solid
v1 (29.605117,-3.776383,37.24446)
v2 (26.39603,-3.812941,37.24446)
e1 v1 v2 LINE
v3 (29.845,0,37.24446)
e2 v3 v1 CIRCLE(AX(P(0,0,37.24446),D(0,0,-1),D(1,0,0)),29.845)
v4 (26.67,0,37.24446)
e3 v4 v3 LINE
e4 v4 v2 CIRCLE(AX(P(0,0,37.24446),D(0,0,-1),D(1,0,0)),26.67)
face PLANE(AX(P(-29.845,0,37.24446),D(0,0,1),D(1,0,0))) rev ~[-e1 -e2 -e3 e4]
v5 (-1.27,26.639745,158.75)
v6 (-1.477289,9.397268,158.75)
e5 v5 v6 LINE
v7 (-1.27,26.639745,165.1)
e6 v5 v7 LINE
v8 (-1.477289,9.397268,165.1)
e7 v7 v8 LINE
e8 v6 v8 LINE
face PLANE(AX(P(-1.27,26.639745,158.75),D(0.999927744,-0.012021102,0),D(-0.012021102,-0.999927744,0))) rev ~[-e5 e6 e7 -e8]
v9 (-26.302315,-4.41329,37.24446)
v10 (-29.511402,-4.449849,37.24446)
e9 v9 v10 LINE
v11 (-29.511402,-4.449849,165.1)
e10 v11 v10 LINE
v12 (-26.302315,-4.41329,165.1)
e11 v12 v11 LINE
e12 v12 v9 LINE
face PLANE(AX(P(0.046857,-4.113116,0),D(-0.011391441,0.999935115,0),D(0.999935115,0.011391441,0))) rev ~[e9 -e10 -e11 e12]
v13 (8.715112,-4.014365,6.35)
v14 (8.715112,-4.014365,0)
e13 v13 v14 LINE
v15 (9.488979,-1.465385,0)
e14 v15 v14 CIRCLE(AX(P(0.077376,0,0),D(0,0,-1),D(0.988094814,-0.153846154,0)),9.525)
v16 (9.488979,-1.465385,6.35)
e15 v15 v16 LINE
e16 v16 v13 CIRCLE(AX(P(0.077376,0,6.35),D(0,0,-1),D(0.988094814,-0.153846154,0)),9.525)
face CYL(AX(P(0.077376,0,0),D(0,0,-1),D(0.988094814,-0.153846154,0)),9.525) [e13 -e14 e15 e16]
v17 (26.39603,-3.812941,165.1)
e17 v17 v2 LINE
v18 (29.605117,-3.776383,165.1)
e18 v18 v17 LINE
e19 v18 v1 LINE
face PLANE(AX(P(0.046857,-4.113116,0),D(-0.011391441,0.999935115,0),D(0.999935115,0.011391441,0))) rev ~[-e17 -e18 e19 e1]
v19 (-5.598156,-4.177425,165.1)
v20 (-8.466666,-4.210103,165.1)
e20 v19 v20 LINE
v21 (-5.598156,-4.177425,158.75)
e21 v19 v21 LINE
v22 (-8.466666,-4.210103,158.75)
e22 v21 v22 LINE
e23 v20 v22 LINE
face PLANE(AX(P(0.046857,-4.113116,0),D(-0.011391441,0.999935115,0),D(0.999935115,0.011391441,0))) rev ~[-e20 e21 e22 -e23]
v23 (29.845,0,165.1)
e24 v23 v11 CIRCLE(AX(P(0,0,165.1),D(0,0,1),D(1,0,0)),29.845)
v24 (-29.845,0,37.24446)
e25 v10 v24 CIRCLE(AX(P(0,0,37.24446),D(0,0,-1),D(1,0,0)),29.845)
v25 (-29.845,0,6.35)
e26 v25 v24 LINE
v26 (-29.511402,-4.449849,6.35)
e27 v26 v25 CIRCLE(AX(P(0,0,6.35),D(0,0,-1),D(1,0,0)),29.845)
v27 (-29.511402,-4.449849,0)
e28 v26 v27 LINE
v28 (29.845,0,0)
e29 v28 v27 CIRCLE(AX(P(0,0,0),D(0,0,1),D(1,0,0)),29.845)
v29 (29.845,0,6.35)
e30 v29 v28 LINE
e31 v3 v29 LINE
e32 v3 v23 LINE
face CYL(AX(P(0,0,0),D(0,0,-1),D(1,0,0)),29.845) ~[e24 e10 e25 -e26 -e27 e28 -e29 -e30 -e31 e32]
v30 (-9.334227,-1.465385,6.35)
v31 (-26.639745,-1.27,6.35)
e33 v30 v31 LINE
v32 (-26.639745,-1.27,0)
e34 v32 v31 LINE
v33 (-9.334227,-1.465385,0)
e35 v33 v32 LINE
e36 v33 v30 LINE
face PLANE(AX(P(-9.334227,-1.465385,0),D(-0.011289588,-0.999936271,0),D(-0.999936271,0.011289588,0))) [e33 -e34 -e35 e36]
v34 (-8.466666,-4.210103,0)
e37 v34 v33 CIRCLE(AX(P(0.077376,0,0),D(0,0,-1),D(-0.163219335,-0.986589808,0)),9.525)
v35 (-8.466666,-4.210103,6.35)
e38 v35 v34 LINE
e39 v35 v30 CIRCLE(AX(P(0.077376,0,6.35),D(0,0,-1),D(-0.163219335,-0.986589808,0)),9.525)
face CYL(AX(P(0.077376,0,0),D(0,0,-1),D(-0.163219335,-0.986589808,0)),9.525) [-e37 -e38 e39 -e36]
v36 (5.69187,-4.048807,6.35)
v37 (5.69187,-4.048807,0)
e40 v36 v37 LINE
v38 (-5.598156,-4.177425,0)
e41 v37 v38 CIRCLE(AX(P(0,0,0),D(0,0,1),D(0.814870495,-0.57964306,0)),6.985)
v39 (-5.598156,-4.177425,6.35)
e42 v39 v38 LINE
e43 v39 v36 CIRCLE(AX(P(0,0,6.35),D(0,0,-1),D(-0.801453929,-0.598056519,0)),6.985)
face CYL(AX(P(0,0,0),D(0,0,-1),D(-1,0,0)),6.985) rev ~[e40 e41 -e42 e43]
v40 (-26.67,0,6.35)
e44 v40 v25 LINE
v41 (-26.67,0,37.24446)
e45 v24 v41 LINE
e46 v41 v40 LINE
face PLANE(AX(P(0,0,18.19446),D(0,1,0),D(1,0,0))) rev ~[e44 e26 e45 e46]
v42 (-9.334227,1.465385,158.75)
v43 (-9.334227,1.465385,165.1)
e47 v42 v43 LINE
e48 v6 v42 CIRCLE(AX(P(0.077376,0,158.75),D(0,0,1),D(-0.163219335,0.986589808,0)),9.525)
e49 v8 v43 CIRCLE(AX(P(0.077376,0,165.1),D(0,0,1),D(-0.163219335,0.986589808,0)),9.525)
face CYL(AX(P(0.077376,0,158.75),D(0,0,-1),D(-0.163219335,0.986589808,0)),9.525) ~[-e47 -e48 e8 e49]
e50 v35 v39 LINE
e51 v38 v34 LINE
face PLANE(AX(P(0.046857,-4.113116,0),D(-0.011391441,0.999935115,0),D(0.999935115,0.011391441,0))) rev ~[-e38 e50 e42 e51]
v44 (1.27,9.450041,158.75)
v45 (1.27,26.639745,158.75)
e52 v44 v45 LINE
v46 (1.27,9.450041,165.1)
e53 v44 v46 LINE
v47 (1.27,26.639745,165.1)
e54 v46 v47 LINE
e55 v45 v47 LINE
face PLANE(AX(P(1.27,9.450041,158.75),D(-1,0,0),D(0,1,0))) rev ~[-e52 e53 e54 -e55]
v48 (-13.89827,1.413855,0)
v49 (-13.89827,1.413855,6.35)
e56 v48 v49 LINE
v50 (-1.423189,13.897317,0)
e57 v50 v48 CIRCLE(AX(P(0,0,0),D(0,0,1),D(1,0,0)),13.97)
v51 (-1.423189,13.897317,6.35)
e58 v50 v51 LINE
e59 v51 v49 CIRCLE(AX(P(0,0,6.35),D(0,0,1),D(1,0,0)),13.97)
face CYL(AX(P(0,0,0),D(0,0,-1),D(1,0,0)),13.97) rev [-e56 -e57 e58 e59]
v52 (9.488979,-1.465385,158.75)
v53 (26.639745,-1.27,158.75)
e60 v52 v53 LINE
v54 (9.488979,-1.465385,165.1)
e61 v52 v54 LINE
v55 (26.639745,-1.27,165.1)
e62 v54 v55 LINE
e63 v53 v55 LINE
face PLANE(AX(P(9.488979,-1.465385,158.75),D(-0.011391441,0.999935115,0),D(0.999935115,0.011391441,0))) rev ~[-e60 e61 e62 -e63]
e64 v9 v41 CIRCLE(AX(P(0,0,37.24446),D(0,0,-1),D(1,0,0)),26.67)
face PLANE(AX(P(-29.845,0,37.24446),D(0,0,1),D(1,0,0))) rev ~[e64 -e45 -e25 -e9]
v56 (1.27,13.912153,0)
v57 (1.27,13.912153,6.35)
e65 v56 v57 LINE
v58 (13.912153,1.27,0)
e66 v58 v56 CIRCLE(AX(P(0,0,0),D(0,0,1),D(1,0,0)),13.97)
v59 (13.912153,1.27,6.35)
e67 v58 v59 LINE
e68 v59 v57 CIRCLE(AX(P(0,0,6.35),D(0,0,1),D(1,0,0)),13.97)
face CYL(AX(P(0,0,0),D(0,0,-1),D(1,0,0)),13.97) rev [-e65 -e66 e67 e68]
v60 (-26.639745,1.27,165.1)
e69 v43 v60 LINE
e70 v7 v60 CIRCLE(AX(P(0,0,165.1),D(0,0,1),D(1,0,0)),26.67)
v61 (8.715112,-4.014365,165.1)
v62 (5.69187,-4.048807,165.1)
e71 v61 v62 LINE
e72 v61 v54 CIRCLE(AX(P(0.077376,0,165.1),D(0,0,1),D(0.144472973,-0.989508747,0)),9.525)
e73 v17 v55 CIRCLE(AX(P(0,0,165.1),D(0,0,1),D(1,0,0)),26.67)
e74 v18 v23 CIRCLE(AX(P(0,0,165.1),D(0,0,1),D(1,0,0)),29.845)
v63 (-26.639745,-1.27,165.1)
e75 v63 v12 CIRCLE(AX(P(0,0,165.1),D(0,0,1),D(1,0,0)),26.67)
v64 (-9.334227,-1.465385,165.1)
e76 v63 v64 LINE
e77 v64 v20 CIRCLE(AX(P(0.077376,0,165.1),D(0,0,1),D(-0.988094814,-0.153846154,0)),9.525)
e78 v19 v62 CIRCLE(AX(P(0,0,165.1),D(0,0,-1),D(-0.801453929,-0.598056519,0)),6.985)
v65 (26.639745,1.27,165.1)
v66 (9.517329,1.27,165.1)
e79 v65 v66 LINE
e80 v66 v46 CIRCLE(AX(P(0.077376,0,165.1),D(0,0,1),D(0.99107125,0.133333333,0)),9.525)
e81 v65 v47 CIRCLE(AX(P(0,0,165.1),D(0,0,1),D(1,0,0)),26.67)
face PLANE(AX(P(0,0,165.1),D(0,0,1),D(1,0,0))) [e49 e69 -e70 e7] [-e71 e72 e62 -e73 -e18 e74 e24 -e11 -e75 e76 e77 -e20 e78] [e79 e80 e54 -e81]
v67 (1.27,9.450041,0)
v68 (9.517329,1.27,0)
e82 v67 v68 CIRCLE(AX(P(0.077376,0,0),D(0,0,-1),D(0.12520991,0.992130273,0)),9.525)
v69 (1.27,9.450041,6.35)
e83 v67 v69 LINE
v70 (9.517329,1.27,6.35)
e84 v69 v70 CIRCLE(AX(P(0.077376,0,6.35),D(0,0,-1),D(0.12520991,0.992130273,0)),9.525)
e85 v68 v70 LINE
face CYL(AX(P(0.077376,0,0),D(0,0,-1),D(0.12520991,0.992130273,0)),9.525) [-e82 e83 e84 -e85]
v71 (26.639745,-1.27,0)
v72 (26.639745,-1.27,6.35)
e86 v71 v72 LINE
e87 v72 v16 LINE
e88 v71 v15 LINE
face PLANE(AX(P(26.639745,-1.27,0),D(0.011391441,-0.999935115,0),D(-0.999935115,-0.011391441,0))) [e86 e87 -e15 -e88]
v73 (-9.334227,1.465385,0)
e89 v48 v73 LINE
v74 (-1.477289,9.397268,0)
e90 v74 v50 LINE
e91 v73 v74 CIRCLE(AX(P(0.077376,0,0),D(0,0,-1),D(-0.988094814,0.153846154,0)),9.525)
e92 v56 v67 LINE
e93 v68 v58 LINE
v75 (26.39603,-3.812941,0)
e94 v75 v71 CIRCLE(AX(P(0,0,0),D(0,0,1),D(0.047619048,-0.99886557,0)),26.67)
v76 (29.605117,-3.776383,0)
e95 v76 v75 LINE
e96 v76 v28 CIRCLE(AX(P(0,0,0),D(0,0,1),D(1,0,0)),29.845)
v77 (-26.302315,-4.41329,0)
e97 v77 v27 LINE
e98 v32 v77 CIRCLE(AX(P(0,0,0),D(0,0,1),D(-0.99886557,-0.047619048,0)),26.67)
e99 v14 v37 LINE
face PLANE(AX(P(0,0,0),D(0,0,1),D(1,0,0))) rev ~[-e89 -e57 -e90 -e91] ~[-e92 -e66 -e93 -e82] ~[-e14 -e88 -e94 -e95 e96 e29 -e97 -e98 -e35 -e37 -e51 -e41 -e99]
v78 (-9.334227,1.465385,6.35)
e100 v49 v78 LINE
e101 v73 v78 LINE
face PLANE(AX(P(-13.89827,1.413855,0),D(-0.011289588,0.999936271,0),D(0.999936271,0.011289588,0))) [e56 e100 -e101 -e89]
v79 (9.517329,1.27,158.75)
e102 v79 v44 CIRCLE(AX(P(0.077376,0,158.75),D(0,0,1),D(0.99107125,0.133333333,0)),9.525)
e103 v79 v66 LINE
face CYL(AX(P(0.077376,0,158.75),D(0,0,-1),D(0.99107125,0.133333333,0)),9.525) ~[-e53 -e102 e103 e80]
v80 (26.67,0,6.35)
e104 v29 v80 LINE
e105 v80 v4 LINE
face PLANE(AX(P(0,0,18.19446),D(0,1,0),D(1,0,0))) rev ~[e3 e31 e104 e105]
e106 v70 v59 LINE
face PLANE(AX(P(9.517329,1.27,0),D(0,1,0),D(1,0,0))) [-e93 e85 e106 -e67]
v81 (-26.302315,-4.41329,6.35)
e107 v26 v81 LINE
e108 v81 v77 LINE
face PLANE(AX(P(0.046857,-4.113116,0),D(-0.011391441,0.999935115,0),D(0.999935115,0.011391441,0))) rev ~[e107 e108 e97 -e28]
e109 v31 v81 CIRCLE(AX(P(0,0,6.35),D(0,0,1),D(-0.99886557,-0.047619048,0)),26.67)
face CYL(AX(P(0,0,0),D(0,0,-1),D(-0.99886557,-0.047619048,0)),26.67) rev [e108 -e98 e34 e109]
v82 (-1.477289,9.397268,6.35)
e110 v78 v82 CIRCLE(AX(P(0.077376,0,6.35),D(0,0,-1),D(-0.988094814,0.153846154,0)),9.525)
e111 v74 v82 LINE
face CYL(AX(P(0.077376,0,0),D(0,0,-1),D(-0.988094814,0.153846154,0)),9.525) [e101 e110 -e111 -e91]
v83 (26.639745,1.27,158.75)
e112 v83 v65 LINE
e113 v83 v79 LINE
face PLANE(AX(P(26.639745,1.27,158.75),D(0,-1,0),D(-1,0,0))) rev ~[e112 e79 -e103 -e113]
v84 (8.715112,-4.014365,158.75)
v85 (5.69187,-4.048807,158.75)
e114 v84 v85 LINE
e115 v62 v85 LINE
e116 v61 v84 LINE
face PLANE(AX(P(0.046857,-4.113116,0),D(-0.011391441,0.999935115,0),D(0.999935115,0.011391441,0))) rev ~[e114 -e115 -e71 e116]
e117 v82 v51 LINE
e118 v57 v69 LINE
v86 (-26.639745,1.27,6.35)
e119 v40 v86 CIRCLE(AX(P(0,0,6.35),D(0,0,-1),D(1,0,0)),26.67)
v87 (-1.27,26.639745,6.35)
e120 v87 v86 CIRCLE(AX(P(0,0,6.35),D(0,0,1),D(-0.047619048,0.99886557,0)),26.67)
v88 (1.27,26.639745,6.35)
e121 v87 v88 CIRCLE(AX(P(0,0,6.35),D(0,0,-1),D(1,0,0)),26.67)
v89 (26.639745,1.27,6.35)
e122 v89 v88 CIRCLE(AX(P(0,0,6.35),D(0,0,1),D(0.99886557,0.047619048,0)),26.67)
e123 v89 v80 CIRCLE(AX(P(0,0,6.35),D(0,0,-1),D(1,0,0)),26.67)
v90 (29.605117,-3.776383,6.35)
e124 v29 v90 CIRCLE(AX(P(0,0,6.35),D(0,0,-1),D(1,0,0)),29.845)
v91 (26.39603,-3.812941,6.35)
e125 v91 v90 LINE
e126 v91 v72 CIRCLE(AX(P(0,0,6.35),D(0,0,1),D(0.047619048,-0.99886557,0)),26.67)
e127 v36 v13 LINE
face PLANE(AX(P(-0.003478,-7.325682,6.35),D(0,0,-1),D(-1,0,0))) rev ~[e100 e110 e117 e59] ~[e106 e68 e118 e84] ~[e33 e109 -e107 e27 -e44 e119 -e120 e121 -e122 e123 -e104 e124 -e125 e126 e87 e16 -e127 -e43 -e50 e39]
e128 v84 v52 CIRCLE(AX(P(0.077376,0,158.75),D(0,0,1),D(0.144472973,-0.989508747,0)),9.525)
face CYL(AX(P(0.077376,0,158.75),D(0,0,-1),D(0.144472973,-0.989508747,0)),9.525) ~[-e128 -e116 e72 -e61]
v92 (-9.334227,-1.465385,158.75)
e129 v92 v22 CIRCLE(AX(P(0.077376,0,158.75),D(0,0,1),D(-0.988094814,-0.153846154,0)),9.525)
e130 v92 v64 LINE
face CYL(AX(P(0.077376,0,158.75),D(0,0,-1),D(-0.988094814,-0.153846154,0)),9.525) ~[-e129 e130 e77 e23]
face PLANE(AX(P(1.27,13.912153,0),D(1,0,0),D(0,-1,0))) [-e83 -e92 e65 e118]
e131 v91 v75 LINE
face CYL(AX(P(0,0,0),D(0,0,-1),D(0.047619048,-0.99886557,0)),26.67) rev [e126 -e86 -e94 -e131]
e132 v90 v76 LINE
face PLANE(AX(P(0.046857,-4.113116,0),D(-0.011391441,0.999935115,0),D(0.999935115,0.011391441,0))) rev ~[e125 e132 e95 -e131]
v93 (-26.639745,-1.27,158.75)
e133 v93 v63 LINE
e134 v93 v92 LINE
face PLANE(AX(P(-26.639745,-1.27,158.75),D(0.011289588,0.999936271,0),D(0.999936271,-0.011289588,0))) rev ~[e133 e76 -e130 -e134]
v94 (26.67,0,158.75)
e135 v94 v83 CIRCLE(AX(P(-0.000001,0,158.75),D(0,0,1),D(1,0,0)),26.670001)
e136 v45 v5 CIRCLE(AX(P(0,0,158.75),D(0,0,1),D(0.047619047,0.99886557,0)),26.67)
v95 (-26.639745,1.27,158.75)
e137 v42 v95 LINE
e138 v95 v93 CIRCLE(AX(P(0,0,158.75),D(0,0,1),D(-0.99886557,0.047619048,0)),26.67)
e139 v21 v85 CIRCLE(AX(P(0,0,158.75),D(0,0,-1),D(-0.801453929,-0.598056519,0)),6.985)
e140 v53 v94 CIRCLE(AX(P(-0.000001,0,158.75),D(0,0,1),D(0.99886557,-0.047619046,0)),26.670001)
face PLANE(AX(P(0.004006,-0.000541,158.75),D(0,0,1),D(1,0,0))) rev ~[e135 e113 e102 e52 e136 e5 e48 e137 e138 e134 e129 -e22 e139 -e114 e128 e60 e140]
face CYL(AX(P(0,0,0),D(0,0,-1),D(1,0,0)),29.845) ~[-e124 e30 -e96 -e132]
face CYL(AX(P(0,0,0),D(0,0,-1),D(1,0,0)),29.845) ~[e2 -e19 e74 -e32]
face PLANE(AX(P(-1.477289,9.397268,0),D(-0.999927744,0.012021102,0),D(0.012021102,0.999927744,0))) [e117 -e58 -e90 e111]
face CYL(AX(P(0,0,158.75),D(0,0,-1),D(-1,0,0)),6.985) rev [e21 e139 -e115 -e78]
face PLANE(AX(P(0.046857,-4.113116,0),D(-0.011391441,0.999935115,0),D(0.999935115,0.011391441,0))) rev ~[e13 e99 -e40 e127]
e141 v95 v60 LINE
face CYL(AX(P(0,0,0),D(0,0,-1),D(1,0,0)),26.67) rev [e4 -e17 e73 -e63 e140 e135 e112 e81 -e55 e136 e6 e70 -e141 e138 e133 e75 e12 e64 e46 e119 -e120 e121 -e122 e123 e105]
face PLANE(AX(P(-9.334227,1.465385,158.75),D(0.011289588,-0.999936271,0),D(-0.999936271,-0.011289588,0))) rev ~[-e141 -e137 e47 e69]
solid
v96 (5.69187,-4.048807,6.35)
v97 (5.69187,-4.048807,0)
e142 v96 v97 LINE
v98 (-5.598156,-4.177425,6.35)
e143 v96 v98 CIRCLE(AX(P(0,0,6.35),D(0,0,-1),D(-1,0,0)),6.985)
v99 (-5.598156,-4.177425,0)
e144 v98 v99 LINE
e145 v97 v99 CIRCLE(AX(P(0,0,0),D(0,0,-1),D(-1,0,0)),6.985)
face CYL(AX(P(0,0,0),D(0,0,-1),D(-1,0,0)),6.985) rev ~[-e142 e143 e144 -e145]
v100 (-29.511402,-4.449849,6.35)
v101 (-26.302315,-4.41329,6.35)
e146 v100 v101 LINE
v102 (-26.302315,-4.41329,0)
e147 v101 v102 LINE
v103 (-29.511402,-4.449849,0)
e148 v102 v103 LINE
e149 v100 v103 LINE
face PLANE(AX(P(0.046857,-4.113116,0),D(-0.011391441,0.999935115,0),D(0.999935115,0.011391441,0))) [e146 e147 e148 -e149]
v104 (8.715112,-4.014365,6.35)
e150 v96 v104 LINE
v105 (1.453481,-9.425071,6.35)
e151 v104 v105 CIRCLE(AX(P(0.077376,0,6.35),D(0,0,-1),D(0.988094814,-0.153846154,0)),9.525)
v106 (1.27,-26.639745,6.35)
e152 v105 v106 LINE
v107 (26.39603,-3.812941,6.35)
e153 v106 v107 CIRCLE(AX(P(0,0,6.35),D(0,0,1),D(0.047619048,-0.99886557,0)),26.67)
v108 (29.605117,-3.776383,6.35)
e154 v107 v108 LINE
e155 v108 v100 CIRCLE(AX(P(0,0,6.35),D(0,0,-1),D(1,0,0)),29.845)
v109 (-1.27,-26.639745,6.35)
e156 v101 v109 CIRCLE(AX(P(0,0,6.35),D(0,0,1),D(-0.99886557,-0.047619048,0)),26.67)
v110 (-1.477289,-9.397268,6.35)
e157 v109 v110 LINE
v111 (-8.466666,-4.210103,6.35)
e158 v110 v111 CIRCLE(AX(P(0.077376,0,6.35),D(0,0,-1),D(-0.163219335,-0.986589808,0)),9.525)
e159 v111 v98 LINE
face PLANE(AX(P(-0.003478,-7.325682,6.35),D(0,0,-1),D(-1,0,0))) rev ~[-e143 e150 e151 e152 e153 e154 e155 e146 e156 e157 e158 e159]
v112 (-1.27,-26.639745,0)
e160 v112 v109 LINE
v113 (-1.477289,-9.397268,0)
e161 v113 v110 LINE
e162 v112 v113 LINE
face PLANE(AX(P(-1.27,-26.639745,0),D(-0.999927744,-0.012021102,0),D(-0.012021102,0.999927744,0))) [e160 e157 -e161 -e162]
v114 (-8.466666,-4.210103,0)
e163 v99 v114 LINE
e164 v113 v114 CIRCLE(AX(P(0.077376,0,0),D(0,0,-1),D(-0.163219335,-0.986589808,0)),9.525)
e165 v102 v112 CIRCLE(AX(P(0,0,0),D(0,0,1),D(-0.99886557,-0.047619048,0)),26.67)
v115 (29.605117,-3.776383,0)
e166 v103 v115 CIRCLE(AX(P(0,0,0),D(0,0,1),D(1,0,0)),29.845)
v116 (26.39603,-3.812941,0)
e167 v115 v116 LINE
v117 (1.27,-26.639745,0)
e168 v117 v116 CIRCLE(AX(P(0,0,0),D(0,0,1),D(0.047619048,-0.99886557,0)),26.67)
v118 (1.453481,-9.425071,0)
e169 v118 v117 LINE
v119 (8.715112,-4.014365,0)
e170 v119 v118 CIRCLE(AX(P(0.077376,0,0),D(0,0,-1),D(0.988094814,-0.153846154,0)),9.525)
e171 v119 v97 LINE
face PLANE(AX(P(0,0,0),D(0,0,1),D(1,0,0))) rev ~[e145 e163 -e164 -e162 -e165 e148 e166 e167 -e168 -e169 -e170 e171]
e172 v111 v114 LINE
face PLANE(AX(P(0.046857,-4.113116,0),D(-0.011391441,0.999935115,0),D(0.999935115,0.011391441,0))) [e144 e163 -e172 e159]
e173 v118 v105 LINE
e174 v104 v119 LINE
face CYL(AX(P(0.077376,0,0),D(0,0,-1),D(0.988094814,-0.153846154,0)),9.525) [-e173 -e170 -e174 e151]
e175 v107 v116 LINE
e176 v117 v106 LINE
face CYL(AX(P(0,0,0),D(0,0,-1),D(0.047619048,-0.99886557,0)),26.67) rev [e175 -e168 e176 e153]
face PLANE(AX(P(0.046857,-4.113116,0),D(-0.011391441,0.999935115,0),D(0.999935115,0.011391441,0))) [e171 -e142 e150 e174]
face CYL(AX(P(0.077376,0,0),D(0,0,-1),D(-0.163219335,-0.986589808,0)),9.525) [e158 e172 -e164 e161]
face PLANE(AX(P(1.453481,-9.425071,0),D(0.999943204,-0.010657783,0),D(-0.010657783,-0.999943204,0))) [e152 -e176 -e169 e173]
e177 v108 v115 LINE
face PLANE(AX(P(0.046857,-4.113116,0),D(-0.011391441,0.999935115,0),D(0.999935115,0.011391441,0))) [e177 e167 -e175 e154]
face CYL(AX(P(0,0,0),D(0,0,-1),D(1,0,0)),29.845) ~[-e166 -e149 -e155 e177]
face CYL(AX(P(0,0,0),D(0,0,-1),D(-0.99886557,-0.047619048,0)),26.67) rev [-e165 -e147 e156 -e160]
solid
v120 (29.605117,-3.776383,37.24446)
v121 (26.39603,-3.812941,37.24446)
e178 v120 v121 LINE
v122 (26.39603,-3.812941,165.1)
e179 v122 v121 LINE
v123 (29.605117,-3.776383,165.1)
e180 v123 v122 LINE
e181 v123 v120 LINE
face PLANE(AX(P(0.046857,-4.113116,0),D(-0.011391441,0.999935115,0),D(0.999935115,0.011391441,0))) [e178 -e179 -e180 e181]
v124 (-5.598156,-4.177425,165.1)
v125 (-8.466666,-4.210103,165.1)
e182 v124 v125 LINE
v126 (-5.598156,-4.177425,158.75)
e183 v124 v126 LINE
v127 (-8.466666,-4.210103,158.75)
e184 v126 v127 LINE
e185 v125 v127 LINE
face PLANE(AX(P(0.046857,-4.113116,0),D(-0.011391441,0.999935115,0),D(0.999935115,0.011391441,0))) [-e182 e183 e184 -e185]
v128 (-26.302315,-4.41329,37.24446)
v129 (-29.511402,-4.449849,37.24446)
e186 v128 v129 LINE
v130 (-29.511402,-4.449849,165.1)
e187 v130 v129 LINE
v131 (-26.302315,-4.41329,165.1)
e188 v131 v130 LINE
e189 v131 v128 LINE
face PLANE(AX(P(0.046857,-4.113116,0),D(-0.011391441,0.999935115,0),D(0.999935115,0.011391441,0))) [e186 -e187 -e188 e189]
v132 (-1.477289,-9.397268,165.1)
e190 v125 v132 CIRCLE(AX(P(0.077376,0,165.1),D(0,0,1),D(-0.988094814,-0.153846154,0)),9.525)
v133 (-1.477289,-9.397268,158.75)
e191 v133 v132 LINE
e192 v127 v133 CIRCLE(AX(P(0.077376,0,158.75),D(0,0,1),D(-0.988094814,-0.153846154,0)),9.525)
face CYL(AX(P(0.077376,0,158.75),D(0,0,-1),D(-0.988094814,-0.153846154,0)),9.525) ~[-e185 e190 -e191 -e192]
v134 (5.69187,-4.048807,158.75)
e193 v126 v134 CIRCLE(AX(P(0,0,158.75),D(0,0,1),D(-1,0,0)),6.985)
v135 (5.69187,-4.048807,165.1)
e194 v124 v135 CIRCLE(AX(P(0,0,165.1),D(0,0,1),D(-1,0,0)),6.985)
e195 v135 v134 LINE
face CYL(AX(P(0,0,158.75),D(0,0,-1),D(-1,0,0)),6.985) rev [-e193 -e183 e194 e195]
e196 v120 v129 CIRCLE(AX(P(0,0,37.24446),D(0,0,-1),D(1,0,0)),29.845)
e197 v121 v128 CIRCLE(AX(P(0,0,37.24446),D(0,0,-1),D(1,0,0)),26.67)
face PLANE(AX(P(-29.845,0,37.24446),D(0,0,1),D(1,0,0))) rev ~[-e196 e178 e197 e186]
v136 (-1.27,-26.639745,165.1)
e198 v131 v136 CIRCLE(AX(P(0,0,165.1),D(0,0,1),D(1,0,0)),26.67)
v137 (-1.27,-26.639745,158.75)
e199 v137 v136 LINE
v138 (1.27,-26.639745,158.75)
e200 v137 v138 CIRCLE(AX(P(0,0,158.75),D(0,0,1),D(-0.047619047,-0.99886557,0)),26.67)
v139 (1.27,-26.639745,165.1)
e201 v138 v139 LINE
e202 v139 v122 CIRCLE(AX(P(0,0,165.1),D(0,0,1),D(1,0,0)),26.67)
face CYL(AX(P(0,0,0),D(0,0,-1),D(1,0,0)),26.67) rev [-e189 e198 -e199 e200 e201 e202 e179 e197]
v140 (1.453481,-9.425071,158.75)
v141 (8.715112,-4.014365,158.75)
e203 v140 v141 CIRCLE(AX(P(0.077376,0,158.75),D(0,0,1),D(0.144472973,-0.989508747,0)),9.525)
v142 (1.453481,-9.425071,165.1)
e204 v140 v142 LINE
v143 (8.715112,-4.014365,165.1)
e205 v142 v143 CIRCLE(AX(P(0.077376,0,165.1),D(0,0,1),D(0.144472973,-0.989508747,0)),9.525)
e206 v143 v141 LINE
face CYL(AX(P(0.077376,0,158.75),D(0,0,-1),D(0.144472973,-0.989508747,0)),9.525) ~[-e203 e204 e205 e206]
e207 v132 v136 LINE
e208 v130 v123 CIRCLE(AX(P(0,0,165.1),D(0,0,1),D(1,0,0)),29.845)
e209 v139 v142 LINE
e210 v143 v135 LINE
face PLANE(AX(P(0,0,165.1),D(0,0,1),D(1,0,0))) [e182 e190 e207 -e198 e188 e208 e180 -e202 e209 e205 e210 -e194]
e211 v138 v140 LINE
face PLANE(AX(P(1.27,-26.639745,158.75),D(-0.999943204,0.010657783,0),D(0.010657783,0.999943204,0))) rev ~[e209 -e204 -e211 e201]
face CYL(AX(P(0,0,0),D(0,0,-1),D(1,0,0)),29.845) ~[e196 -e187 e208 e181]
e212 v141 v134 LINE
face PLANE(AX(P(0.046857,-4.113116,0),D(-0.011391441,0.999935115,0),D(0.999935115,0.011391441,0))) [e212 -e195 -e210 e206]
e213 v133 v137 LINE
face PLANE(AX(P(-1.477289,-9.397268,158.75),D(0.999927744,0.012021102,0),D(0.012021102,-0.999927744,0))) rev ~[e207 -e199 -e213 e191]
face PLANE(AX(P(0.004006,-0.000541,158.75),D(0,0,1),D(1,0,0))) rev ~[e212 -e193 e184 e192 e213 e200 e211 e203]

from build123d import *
from build123d.topology import SkipClean

# Parameters (mm, degrees)
SKETCH1_R           = 29.845
SKETCH1_R_2         = 26.67
BOSS_EXTRUDE1_DEPTH = 165.1
SKETCH2_W           = 59.69
SKETCH2_H           = 38.1
CUT_EXTRUDE1_DEPTH  = 171.409677102
BOSS_EXTRUDE2_DEPTH = 6.35
SKETCH5_R           = 6.985
BOSS_EXTRUDE4_DEPTH = 6.35
BOSS_EXTRUDE5_START = -6.35
SKETCH4_R           = 29.845
SKETCH4_R_2         = 26.67
SKETCH4_R_3         = 6.985
BOSS_EXTRUDE5_DEPTH = 6.35


with BuildPart() as part:
    # Sketch1 → Boss-Extrude1 (new body)
    with BuildSketch(Plane.XY):
        Circle(SKETCH1_R)
        Circle(SKETCH1_R_2, mode=Mode.SUBTRACT)
    extrude(amount=BOSS_EXTRUDE1_DEPTH)

    # Sketch2 → Cut-Extrude1 (cut, through all)
    with BuildSketch(Plane(origin=(0, 0, 0), x_dir=(1, 0, 0), z_dir=(0, 1, 0))):
        with Locations((0, -18.194460122)):
            Rectangle(SKETCH2_W, SKETCH2_H)
    extrude(amount=-CUT_EXTRUDE1_DEPTH, mode=Mode.SUBTRACT)

    # Sketch3 → Boss-Extrude2 (add)
    with BuildSketch(Plane(origin=(0, 0, 0), x_dir=(-1, 0, 0), z_dir=(0, 0, -1))):
        with BuildLine():
            Line((-29.845, 0), (-13.97, 0))
            ThreePointArc((-13.97, 0), (0, 13.97), (13.97, 0))
            Line((13.97, 0), (29.845, 0))
            ThreePointArc((29.845, 0), (0, 29.845), (-29.845, 0))
        make_face()
    extrude(amount=-BOSS_EXTRUDE2_DEPTH)

    # Sketch5 → Boss-Extrude4 (add)
    # profile 1 of 2: a face of its own
    with SkipClean():  # the faces are left unmerged after this step: merging them gives an invalid solid
        with BuildSketch(Plane(origin=(0, 0, 0), x_dir=(-1, 0, 0), z_dir=(0, 0, -1))):
            with BuildLine():
                Line((26.639744744, 1.27), (13.898270164, 1.413855169))
                ThreePointArc((13.898270164, 1.413855169), (13.952056017, 0.707836776), (13.97, 0))
                Line((13.97, 0), (29.845, 0))
                ThreePointArc((29.845, 0), (0.635143844, 29.838240855), (-29.81796648, 1.27))
                ThreePointArc((-29.81796648, 1.27), (-29.838240855, 0.635143844), (-29.845, 0))
                Line((-29.845, 0), (-13.97, 0))
                ThreePointArc((-13.97, 0), (-13.955530747, 0.635658375), (-13.912152961, 1.27))
                Line((-13.912152961, 1.27), (-26.639744744, 1.27))
                ThreePointArc((-26.639744744, 1.27), (-18.858537854, 18.858537854), (-1.27, 26.639744744))
                Line((-1.27, 26.639744744), (-1.27, 13.912152961))
                ThreePointArc((-1.27, 13.912152961), (0.07695289, 13.969788053), (1.423189091, 13.897317468))
                Line((1.423189091, 13.897317468), (1.27, 26.639744744))
                ThreePointArc((1.27, 26.639744744), (18.858537854, 18.858537854), (26.639744744, 1.27))
            make_face()
        # profile 2 of 2: a face of its own
        with BuildSketch(Plane(origin=(0, 0, 0), x_dir=(-1, 0, 0), z_dir=(0, 0, -1))):
            with BuildLine():
                Line((13.898270164, 1.413855169), (9.33422749, 1.465384615))
                ThreePointArc((9.33422749, 1.465384615), (6.689709997, 6.703146826), (1.477288556, 9.397267918))
                Line((1.477288556, 9.397267918), (1.423189091, 13.897317468))
                ThreePointArc((1.423189091, 13.897317468), (0.07695289, 13.969788053), (-1.27, 13.912152961))
                Line((-1.27, 13.912152961), (-1.27, 9.45004085))
                ThreePointArc((-1.27, 9.45004085), (-6.784923303, 6.762723487), (-9.517329266, 1.27))
                Line((-9.517329266, 1.27), (-13.912152961, 1.27))
                ThreePointArc((-13.912152961, 1.27), (-13.955530747, 0.635658375), (-13.97, 0))
                Line((-13.97, 0), (-29.845, 0))
                ThreePointArc((-29.845, 0), (0, -29.845), (29.845, 0))
                Line((29.845, 0), (13.97, 0))
                ThreePointArc((13.97, 0), (13.952056017, 0.707836776), (13.898270164, 1.413855169))
            make_face()
            with BuildLine():
                Line((-26.639744744, -1.27), (-9.488978712, -1.465384615))
                ThreePointArc((-9.488978712, -1.465384615), (-6.780569847, -6.767038646), (-1.453480675, -9.425070814))
                Line((-1.453480675, -9.425070814), (-1.27, -26.639744744))
                ThreePointArc((-1.27, -26.639744744), (-18.858537854, -18.858537854), (-26.639744744, -1.27))
            make_face(mode=Mode.SUBTRACT)
            with BuildLine():
                Line((9.33422749, -1.465384615), (26.639744744, -1.27))
                ThreePointArc((26.639744744, -1.27), (18.858537854, -18.858537854), (1.27, -26.639744744))
                Line((1.27, -26.639744744), (1.477288556, -9.397267918))
                ThreePointArc((1.477288556, -9.397267918), (6.689709997, -6.703146826), (9.33422749, -1.465384615))
            make_face(mode=Mode.SUBTRACT)
            Circle(SKETCH5_R, mode=Mode.SUBTRACT)
        extrude(amount=-BOSS_EXTRUDE4_DEPTH)

    # Sketch4 → Boss-Extrude5 (add)
    # profile 1 of 2: a face of its own
    with SkipClean():  # the faces are left unmerged after this step: merging them gives an invalid solid
        with BuildSketch(Plane.XY.offset(165.1).offset(BOSS_EXTRUDE5_START)):
            Circle(SKETCH4_R)
            with Locations(Location((0, 0, 0), (0, 0, 180))):
                Circle(SKETCH4_R_2, mode=Mode.SUBTRACT)
        # profile 2 of 2: a face of its own
        with BuildSketch(Plane.XY.offset(165.1).offset(BOSS_EXTRUDE5_START)):
            with BuildLine():
                Line((1.27, 9.45004085), (1.27, 26.639744744))
                ThreePointArc((1.27, 26.639744744), (0, 26.67), (-1.27, 26.639744744))
                Line((-1.27, 26.639744744), (-1.477288556, 9.397267918))
                ThreePointArc((-1.477288556, 9.397267918), (-6.689709997, 6.703146826), (-9.33422749, 1.465384615))
                Line((-9.33422749, 1.465384615), (-26.639744744, 1.27))
                ThreePointArc((-26.639744744, 1.27), (-26.67, 0), (-26.639744744, -1.27))
                Line((-26.639744744, -1.27), (-9.33422749, -1.465384615))
                ThreePointArc((-9.33422749, -1.465384615), (-6.689709997, -6.703146826), (-1.477288556, -9.397267918))
                Line((-1.477288556, -9.397267918), (-1.27, -26.639744744))
                ThreePointArc((-1.27, -26.639744744), (0, -26.67), (1.27, -26.639744744))
                Line((1.27, -26.639744744), (1.453480675, -9.425070814))
                ThreePointArc((1.453480675, -9.425070814), (6.780569847, -6.767038646), (9.488978712, -1.465384615))
                Line((9.488978712, -1.465384615), (26.639744744, -1.27))
                ThreePointArc((26.639744744, -1.27), (26.662435113, -0.635180167), (26.67, 0))
                ThreePointArc((26.67, 0), (26.662435113, 0.635180167), (26.639744744, 1.27))
                Line((26.639744744, 1.27), (9.517329266, 1.27))
                ThreePointArc((9.517329266, 1.27), (6.784923303, 6.762723487), (1.27, 9.45004085))
            make_face()
            with Locations(Location((0, 0, 0), (0, 0, 180))):
                Circle(SKETCH4_R_3, mode=Mode.SUBTRACT)
        extrude(amount=BOSS_EXTRUDE5_DEPTH)


with BuildPart() as body_2:
    # Split4: the piece on the far side of the plane
    add(part.part)
    split(bisect_by=Plane(origin=(0.046857356, -4.11311578, 0), x_dir=(0.9999351154319066, 0.011391440917629184, 0), z_dir=(-0.011391440917629184, 0.9999351154319066, 0)), keep=Keep.BOTTOM)


with BuildPart() as part_1:
    add(part.part)

    # Split4
    split(bisect_by=Plane(origin=(0.046857356, -4.11311578, 0), x_dir=(0.9999351154319066, 0.011391440917629184, 0), z_dir=(-0.011391440917629184, 0.9999351154319066, 0)), keep=Keep.TOP)


solid = Compound([body_2.part, part_1.part])
